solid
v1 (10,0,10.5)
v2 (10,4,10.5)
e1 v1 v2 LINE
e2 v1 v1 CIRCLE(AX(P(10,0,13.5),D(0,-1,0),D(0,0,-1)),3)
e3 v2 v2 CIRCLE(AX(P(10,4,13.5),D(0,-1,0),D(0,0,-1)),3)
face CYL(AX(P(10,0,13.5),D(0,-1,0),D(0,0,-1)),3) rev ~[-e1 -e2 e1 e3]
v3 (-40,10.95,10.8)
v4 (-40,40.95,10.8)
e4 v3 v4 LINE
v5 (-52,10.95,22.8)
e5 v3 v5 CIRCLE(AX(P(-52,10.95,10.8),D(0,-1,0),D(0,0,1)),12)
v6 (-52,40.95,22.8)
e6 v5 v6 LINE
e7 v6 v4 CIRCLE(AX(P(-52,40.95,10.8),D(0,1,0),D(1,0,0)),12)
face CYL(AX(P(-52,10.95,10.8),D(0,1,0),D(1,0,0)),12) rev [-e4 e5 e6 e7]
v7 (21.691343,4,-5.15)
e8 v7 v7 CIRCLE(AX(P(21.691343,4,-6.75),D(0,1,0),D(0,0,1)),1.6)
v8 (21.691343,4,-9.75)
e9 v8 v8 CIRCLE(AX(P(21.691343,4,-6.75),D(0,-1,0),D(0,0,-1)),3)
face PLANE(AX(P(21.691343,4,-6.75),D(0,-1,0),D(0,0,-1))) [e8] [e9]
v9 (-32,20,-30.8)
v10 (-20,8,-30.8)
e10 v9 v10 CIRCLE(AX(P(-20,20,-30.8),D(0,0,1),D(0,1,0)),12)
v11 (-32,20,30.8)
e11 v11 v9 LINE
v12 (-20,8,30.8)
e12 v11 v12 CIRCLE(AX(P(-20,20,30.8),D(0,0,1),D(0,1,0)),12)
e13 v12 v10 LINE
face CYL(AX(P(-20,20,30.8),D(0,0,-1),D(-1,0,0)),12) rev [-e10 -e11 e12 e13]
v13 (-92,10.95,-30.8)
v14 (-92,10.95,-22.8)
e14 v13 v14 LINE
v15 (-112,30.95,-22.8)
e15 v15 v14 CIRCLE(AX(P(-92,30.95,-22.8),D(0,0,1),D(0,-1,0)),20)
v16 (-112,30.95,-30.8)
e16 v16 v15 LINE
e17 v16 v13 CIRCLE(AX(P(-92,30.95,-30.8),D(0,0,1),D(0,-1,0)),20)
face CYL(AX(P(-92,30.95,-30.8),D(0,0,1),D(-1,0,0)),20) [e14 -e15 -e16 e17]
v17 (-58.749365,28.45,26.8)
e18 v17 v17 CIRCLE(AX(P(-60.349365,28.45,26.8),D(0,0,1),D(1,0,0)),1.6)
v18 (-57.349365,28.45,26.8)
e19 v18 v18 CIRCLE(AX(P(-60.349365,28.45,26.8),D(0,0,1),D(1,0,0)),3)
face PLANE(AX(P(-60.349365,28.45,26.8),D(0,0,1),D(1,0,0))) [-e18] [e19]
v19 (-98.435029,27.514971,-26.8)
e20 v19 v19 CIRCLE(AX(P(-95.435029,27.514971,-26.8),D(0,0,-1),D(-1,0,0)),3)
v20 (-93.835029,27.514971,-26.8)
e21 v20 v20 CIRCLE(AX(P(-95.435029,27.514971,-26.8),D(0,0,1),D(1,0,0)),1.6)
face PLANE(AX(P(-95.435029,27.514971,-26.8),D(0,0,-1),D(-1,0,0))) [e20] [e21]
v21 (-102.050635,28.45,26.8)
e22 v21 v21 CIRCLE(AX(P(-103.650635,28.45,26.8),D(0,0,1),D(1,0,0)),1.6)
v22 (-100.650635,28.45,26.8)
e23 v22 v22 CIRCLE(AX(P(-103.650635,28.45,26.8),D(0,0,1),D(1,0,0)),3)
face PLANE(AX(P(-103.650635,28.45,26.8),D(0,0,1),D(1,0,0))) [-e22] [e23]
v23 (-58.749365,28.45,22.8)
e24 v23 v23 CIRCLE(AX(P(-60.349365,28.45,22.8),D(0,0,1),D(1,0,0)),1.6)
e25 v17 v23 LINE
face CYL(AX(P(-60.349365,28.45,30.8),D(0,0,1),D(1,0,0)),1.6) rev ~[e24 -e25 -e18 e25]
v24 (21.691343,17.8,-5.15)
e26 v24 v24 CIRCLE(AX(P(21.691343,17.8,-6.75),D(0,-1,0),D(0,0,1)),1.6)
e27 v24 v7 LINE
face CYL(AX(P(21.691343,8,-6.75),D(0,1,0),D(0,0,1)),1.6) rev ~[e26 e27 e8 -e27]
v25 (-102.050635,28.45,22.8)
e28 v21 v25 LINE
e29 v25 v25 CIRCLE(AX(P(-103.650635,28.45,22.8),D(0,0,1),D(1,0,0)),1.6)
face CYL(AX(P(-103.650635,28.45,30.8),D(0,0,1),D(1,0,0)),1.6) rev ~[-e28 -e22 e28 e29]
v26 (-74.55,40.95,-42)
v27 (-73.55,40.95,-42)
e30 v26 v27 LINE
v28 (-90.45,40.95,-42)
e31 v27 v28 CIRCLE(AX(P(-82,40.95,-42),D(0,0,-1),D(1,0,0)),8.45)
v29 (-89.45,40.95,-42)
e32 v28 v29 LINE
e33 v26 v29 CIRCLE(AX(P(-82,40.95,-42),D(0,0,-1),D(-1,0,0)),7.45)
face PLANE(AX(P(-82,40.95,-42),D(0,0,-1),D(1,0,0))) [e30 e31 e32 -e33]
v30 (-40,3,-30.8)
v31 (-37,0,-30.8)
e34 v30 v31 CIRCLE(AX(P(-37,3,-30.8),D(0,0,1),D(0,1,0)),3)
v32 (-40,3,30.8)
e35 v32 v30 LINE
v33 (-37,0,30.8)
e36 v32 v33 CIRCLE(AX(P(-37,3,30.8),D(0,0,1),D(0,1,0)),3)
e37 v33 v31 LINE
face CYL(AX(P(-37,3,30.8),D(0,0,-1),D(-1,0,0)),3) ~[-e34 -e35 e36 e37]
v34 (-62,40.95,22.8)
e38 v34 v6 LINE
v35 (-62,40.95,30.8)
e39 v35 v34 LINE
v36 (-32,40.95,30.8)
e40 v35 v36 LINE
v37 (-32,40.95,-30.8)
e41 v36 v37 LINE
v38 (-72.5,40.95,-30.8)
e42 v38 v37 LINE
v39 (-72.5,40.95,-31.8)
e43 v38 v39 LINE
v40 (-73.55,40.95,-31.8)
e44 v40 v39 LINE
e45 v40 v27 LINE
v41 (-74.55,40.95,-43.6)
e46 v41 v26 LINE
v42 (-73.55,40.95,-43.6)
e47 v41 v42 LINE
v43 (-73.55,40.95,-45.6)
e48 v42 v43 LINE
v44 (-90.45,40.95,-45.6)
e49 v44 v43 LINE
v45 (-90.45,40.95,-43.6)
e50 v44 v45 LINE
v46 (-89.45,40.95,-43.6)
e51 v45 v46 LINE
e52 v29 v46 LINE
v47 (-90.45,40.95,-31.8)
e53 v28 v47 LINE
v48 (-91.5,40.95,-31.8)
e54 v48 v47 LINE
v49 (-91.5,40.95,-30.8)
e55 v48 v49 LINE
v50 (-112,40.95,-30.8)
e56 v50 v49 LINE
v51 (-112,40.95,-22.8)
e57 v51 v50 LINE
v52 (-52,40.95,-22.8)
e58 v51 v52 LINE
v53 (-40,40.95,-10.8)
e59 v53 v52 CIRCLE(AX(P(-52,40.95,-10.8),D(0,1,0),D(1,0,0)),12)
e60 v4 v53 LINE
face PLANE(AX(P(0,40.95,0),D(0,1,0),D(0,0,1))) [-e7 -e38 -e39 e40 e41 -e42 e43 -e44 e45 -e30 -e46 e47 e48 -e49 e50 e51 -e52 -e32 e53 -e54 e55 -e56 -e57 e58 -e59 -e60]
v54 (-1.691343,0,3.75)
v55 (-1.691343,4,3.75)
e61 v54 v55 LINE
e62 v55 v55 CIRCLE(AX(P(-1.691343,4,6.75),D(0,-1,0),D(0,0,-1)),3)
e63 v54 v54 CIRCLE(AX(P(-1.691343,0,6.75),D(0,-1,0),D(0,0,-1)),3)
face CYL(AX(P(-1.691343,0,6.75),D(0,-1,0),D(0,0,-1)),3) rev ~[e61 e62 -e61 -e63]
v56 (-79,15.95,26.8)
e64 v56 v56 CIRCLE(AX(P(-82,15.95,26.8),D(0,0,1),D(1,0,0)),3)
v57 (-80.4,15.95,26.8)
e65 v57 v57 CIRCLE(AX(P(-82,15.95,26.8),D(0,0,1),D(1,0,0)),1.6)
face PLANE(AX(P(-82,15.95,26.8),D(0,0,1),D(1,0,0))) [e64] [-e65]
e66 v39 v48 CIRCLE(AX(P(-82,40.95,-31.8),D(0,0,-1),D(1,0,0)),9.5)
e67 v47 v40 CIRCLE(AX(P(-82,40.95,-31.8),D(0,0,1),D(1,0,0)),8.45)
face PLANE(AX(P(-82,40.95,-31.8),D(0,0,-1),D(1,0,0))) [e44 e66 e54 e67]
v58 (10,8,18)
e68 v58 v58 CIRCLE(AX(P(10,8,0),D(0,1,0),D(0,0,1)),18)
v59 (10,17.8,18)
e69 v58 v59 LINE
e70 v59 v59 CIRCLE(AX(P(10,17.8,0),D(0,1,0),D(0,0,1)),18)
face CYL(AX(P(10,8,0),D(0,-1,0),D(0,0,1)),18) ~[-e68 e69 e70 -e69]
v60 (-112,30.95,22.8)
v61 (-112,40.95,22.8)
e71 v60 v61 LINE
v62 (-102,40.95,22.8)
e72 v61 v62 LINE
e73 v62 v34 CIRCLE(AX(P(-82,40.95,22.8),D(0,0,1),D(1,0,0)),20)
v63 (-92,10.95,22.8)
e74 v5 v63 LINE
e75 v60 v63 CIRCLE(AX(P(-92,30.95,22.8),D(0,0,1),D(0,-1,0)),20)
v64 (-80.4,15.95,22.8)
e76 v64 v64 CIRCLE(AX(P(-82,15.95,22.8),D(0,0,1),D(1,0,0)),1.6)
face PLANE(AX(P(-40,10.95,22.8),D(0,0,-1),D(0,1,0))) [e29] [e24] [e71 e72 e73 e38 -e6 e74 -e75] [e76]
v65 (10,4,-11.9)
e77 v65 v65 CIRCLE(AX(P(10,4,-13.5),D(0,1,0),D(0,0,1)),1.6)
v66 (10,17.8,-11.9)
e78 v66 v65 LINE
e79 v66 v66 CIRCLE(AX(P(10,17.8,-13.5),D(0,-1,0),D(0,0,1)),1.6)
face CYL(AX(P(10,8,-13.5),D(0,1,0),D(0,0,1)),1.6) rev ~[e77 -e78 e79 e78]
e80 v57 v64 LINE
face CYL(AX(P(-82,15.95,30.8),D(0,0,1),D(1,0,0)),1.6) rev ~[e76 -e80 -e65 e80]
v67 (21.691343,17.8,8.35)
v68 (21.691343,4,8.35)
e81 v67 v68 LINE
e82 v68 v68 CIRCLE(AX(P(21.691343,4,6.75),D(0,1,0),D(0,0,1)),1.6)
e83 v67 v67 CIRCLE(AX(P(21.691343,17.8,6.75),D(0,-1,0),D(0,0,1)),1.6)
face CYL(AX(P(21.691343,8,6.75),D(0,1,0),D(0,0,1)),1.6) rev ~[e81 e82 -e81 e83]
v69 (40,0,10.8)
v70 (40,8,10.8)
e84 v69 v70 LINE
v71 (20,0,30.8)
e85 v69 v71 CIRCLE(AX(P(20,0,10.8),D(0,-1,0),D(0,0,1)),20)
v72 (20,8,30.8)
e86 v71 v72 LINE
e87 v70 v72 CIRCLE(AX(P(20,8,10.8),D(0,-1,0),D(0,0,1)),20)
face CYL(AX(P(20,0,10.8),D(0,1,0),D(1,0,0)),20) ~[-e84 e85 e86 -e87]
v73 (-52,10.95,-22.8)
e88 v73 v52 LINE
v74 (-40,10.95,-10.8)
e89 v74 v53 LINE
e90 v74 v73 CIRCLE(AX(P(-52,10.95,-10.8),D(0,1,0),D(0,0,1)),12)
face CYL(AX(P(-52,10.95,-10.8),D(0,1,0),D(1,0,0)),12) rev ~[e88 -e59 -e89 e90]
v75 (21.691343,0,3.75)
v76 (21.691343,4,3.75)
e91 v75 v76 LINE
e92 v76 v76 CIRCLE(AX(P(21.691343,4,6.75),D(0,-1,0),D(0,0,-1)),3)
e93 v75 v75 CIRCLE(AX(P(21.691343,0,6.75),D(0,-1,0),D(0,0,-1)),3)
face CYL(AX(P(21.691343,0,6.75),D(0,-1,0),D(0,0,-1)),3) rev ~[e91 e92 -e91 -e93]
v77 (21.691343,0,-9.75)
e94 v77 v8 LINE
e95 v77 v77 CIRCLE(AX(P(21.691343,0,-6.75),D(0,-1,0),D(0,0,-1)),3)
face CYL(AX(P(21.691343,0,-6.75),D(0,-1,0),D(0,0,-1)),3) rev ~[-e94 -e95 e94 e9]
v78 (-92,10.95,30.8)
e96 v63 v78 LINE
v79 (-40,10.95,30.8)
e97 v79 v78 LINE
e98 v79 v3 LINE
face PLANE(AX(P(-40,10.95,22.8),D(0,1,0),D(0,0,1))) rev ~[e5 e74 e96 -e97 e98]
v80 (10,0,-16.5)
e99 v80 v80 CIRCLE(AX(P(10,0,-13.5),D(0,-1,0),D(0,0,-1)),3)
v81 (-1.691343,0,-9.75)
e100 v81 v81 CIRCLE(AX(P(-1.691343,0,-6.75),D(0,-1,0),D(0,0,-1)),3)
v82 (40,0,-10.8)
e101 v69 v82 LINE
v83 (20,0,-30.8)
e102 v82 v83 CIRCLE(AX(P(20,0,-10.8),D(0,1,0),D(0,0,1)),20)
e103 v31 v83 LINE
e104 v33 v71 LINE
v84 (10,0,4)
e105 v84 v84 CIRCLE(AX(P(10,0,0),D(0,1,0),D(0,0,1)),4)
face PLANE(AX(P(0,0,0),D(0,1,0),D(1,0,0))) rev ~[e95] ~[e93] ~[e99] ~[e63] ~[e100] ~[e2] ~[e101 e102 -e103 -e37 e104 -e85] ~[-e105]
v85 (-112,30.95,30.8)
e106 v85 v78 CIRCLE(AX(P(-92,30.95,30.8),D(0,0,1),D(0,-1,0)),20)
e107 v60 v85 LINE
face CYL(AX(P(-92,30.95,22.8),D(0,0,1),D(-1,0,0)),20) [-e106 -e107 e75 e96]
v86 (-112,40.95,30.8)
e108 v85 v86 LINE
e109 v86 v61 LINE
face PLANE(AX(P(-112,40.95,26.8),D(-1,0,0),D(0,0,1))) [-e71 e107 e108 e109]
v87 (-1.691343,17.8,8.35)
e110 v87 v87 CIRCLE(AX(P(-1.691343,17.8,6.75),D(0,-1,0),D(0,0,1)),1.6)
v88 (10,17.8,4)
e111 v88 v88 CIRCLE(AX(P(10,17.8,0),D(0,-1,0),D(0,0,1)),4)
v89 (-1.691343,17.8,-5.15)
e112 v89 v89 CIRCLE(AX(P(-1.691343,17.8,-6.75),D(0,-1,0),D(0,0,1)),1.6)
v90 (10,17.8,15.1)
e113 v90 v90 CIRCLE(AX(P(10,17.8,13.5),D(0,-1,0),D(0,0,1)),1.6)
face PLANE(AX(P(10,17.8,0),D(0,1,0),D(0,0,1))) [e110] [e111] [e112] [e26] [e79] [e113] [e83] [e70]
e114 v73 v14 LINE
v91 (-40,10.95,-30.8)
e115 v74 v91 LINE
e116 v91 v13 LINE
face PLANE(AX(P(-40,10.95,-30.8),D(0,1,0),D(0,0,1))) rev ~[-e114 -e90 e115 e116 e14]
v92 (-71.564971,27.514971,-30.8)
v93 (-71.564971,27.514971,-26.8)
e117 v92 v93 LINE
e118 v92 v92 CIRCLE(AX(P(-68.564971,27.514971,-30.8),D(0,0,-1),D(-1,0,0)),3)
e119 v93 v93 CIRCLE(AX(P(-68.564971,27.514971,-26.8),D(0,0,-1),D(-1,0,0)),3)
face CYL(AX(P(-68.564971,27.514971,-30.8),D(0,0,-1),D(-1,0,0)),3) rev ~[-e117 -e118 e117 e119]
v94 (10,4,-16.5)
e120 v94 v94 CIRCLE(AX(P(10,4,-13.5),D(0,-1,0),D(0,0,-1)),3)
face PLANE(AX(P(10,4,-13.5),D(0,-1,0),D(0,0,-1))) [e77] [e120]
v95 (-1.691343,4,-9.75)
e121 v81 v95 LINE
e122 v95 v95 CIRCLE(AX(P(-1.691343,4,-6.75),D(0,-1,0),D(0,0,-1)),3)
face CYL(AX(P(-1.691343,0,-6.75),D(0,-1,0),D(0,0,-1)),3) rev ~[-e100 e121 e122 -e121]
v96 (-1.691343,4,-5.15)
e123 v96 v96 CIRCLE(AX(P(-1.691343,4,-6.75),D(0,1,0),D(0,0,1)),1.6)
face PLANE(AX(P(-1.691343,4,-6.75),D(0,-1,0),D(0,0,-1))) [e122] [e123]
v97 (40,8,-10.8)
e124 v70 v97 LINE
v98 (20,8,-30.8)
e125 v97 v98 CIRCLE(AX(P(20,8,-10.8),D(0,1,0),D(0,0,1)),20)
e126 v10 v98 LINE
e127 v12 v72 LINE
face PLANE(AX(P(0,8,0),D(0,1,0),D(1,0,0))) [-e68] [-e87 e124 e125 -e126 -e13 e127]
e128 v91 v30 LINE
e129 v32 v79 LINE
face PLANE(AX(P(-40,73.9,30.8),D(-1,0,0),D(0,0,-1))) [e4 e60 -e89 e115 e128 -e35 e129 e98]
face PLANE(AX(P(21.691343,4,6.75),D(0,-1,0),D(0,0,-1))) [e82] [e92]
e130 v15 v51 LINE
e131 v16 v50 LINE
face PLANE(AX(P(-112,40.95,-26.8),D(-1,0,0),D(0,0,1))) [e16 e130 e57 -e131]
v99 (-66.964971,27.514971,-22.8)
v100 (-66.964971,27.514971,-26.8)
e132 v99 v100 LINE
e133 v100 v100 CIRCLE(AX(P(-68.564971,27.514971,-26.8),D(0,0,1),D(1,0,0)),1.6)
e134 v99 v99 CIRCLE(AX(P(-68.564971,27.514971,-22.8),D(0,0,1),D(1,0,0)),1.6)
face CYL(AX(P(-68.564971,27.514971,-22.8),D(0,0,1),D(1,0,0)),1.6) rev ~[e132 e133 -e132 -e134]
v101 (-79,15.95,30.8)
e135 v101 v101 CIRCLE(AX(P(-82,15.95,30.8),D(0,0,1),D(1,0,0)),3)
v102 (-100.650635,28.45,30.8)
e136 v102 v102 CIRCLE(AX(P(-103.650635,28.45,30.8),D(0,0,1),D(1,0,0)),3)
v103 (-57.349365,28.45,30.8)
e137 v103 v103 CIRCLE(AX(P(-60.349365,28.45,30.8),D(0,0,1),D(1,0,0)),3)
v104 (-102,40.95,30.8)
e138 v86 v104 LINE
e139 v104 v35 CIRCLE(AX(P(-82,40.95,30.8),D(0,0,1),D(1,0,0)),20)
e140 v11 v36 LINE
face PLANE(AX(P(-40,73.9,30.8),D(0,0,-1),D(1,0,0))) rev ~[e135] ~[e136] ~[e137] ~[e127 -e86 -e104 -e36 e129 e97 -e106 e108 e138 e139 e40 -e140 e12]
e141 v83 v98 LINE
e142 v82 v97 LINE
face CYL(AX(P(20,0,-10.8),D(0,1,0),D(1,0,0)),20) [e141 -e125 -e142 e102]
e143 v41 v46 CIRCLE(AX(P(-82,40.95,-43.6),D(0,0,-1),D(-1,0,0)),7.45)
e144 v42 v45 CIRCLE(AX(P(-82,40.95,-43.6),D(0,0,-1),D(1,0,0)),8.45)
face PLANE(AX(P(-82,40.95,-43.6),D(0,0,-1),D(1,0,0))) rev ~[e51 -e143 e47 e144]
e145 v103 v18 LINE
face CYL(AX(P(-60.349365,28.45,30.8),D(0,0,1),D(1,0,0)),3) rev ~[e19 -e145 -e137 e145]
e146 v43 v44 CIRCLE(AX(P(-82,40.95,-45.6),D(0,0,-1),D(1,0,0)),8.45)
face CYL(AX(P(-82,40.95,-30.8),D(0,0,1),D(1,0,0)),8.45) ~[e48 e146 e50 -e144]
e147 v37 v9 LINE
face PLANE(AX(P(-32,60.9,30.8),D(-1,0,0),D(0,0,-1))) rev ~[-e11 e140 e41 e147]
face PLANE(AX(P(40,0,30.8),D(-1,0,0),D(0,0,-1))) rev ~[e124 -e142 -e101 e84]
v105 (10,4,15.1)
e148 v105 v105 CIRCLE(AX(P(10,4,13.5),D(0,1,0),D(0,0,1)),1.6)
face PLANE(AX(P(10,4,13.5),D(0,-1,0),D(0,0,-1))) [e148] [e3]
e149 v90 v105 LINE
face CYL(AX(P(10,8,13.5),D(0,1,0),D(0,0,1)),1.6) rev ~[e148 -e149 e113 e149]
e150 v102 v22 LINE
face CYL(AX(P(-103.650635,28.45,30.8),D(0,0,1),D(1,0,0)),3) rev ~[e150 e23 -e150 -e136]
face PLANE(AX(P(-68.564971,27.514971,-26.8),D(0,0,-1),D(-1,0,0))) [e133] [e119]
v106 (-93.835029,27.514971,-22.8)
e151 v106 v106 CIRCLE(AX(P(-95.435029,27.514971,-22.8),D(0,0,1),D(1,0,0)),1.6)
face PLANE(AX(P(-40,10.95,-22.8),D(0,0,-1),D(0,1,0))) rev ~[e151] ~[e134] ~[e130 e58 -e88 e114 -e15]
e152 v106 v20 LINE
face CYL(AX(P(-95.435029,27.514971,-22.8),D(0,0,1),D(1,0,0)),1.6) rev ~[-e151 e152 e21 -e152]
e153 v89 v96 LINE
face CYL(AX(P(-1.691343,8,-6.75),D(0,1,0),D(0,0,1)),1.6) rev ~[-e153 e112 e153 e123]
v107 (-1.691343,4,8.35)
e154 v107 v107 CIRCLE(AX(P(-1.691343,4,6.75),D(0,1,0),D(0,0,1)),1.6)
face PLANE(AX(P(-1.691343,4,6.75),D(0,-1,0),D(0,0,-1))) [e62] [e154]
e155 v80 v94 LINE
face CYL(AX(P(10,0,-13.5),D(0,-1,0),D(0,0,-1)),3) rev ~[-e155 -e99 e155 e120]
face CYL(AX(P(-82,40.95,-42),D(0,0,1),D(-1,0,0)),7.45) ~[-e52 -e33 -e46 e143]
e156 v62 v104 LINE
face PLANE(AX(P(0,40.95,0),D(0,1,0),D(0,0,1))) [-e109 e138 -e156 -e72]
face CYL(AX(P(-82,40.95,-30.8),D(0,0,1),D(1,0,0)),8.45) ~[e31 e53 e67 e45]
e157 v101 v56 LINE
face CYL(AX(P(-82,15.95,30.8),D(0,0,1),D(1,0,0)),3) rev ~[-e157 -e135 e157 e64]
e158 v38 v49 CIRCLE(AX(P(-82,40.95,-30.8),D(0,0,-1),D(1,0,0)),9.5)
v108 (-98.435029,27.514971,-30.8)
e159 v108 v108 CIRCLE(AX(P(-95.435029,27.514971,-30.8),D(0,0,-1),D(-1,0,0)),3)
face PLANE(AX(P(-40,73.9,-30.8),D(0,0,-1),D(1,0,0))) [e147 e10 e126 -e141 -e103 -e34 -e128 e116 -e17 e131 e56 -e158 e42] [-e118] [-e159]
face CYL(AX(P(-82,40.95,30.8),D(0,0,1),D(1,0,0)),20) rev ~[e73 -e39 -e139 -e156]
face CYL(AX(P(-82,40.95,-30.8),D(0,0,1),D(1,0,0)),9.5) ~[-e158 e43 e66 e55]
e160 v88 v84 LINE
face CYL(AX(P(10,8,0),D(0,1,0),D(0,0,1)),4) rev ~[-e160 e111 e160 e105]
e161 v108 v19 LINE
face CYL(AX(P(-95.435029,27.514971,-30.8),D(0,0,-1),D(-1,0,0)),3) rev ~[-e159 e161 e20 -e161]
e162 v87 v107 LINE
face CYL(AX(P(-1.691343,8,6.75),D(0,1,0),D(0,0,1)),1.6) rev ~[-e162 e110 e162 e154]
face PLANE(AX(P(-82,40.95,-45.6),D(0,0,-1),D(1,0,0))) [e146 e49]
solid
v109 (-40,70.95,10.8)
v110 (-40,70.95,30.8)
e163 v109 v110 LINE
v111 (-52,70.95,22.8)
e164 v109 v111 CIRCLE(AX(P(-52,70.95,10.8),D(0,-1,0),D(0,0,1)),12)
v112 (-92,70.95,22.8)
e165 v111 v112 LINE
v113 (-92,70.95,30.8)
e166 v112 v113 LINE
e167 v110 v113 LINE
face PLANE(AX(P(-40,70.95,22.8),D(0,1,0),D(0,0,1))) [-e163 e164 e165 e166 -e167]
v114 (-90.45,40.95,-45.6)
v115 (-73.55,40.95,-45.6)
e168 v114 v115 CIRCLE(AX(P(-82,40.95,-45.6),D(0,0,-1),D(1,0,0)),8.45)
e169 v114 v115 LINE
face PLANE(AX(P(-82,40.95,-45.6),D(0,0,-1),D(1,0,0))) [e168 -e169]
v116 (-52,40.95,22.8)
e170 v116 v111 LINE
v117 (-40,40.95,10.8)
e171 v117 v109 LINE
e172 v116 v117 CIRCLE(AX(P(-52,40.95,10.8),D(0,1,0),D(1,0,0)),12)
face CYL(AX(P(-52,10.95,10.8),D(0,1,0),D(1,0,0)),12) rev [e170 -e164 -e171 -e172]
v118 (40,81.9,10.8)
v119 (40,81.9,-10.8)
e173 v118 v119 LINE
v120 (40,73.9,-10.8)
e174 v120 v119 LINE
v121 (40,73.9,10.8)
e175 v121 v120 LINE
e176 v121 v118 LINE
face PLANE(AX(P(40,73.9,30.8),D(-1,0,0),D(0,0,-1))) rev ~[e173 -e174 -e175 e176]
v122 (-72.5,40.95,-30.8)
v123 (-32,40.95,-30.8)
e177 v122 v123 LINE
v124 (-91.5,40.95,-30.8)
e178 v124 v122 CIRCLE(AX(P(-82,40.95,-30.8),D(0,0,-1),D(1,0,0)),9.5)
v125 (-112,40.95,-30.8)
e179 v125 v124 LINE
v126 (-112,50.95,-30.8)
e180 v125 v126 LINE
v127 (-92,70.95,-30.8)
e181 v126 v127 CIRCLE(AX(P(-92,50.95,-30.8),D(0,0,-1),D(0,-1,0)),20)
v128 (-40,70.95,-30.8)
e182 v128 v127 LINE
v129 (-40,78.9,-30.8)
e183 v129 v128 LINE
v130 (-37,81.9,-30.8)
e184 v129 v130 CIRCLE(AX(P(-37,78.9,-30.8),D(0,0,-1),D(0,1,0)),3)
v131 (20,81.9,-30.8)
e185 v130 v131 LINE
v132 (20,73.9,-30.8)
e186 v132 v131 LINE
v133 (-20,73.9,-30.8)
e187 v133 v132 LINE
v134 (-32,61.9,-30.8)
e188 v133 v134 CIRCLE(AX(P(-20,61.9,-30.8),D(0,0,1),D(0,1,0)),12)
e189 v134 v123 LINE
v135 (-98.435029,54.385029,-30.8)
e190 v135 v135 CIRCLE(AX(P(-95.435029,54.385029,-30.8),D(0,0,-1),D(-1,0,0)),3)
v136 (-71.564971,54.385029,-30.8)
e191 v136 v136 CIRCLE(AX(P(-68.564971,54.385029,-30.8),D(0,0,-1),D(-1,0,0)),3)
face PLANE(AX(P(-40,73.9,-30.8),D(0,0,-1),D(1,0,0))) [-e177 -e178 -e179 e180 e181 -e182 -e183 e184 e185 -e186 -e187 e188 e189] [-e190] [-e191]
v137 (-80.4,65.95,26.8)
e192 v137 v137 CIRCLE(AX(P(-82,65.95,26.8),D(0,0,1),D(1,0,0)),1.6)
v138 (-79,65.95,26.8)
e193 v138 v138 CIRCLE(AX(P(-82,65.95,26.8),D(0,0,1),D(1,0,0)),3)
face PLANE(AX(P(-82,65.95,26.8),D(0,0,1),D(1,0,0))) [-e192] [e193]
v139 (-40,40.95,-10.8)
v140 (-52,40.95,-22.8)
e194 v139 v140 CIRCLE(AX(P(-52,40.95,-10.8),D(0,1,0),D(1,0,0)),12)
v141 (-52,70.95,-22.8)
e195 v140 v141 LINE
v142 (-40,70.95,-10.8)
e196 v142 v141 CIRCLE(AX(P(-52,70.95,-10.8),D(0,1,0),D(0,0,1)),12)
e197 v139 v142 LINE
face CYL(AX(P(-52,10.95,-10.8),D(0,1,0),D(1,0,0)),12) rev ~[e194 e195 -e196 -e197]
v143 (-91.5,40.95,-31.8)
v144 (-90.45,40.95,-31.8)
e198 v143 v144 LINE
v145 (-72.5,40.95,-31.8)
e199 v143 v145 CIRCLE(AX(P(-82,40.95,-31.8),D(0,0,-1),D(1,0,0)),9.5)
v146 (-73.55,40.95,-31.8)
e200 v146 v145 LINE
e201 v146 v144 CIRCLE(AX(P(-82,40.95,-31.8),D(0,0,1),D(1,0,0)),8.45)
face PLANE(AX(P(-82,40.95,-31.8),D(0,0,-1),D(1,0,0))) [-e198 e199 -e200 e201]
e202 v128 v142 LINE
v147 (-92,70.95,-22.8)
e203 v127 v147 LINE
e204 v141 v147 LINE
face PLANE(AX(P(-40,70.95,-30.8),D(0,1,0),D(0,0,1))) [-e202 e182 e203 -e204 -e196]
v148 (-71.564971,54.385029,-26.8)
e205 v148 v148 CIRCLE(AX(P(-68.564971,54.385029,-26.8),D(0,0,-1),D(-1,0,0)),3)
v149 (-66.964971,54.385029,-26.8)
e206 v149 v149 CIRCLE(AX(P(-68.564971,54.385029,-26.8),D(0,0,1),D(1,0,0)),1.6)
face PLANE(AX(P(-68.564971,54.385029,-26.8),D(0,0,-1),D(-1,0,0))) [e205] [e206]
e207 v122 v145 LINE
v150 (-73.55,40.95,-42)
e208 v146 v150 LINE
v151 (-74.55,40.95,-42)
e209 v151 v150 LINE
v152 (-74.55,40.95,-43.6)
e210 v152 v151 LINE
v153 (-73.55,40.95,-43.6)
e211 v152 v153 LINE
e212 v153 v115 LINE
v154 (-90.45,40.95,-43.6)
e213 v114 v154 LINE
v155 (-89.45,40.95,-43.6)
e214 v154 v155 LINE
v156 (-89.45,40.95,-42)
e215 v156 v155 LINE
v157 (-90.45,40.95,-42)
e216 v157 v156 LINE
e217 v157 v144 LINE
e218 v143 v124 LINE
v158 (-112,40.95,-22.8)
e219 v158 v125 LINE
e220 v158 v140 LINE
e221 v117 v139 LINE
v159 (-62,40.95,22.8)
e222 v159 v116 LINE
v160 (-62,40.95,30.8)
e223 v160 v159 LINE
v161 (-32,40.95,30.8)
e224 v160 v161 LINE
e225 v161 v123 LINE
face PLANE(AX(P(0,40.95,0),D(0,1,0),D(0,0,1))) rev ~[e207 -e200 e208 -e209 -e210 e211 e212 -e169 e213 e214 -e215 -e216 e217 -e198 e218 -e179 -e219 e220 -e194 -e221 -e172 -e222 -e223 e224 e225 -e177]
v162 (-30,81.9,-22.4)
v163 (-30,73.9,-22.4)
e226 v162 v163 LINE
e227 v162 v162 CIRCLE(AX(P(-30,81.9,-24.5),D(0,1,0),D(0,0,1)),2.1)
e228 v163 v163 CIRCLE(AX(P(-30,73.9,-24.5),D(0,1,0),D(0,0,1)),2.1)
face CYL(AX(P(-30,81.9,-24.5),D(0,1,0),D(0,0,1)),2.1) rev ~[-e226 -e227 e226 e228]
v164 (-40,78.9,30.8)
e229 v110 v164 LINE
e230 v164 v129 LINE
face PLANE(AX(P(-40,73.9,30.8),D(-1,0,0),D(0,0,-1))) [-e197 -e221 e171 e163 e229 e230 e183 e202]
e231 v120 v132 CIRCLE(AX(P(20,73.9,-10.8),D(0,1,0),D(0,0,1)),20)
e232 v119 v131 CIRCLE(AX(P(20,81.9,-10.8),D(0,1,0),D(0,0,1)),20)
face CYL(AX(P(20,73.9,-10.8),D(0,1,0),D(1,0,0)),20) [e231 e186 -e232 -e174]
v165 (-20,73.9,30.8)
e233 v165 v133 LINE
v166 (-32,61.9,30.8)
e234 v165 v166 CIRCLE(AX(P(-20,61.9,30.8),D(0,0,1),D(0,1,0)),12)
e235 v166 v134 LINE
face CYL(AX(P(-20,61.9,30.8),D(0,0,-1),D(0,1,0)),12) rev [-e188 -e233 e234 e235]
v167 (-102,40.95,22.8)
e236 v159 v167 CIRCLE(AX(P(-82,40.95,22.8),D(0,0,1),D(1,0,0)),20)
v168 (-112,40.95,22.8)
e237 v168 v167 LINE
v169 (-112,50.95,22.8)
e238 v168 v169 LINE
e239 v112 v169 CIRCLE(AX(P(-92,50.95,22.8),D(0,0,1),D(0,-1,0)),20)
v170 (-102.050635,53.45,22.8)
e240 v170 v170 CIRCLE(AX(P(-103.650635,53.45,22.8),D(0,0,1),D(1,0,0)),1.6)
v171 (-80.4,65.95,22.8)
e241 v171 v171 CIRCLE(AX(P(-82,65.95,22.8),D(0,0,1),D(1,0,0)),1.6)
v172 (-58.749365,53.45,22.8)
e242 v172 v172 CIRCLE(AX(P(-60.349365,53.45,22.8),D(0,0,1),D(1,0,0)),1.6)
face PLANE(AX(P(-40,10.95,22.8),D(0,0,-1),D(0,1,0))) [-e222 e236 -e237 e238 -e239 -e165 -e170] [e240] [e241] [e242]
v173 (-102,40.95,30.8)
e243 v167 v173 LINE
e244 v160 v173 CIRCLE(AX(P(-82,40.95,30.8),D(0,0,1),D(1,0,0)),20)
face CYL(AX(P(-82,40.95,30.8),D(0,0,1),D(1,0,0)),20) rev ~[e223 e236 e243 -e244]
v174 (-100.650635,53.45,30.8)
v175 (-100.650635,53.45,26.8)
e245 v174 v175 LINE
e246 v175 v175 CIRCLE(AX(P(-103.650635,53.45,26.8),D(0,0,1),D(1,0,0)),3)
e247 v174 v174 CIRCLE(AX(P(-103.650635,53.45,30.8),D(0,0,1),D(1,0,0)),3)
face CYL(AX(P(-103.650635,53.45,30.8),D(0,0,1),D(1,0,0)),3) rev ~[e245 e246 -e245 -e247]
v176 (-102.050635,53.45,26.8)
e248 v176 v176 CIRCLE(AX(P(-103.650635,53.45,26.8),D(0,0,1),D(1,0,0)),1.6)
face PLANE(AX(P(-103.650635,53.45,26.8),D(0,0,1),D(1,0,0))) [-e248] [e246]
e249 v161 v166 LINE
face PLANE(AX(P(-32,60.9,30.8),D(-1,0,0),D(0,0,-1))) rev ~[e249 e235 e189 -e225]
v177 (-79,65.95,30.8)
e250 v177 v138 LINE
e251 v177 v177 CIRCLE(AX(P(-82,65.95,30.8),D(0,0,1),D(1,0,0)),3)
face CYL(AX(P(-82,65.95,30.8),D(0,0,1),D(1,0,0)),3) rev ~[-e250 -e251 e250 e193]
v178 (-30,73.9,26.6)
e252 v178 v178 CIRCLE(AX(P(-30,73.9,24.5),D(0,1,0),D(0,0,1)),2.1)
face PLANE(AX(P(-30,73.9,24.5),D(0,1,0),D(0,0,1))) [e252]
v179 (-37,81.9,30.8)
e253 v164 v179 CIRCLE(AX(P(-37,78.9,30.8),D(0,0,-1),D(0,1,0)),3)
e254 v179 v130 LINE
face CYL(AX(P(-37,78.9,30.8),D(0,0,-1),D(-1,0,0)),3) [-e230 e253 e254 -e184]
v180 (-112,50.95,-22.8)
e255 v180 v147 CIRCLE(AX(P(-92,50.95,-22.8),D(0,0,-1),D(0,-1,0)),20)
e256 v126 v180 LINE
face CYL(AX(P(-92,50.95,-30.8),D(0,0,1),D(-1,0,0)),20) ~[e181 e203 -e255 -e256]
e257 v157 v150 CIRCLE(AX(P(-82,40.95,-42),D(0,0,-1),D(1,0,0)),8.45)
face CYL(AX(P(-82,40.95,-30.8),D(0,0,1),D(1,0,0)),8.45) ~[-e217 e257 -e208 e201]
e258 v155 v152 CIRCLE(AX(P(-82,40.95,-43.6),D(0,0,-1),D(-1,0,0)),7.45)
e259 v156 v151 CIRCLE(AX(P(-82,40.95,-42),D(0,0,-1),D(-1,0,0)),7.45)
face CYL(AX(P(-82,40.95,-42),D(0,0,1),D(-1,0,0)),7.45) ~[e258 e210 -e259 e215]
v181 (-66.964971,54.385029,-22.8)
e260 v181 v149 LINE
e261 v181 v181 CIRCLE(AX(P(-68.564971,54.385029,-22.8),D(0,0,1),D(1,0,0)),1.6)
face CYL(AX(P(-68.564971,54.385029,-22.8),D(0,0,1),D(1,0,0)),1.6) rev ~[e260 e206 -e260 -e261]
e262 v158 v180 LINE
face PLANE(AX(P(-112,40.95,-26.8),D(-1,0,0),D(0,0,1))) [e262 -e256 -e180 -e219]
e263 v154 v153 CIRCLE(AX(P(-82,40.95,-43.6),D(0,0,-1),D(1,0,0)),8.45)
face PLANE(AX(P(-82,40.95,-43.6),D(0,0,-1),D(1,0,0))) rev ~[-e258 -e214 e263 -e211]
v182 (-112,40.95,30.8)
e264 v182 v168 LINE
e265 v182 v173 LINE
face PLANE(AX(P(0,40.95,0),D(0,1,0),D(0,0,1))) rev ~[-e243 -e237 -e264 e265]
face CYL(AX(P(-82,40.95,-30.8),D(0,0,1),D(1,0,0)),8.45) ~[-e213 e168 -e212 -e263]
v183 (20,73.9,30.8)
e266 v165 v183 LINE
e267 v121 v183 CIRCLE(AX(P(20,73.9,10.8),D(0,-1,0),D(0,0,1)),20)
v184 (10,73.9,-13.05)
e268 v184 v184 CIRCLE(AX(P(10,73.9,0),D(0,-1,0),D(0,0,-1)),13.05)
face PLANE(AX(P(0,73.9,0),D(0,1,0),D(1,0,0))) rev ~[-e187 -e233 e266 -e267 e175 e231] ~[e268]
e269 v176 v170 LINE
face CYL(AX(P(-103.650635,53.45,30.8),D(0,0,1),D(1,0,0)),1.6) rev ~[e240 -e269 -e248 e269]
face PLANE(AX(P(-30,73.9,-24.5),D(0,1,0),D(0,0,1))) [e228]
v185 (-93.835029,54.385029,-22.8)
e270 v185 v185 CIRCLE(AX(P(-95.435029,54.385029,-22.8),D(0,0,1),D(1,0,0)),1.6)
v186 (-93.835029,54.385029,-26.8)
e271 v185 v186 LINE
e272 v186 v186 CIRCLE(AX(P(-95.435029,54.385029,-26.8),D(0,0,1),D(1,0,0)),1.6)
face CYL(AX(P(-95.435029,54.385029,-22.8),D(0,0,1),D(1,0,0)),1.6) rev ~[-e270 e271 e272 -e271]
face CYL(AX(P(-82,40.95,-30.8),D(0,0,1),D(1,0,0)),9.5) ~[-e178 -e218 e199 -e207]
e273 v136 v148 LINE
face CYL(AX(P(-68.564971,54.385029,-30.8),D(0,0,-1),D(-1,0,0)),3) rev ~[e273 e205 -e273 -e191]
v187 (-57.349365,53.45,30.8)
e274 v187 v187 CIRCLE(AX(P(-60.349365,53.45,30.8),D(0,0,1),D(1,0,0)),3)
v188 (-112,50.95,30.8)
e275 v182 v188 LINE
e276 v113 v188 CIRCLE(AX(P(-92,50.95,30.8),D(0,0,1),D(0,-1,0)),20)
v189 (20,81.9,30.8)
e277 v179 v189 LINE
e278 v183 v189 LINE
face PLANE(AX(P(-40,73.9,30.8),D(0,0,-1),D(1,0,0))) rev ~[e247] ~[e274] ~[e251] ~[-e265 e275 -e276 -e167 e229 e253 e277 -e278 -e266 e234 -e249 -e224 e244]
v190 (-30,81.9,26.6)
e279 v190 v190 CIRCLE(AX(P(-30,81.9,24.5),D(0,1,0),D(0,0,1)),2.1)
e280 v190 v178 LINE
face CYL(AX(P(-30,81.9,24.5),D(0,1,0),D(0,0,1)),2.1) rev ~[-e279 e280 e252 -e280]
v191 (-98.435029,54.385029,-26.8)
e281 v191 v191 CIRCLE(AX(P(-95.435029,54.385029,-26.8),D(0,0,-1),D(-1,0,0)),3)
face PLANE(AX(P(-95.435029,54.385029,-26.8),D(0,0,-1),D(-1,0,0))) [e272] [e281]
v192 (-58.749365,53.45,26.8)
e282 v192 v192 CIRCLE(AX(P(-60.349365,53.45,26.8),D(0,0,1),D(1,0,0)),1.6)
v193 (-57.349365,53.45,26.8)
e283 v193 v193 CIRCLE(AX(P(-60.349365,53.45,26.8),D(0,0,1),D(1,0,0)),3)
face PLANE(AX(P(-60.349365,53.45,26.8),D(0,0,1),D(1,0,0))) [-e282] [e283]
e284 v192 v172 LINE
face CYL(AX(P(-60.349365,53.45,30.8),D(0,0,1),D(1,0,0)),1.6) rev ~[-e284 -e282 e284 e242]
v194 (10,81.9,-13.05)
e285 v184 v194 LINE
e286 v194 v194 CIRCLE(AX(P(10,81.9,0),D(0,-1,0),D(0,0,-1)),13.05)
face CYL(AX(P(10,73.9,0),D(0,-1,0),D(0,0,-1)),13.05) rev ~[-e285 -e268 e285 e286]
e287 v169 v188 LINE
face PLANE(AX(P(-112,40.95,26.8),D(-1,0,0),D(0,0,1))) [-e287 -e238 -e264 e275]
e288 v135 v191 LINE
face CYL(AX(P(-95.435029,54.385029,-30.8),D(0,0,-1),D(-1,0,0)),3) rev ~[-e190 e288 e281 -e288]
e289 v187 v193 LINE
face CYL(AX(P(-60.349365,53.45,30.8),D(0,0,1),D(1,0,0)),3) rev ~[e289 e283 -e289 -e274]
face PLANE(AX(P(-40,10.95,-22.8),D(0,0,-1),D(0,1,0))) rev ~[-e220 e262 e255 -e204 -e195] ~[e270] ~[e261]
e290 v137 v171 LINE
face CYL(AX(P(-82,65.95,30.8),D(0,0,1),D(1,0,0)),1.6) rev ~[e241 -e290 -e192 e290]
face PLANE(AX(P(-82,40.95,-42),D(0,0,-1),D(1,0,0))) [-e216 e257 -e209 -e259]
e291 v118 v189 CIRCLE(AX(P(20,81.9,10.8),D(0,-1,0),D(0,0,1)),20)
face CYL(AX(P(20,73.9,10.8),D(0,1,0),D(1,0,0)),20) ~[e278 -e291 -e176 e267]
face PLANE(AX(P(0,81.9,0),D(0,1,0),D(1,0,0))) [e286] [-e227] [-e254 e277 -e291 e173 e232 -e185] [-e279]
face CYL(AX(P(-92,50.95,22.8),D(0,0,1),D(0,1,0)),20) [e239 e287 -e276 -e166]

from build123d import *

# Parameters (mm, degrees)
SKETCH_1_W                      = 80
SKETCH_1_H                      = 61.6
EXTRUDE_1_DEPTH                 = 8
SKETCH_2_W                      = 8
SKETCH_2_H                      = 61.6
EXTRUDE_2_DEPTH                 = 52.9
SKETCH_10_W                     = 8
SKETCH_10_H                     = 61.6
EXTRUDE_7_DEPTH                 = 13
SKETCH_11_W                     = 80
SKETCH_11_H                     = 61.6
EXTRUDE_8_DEPTH                 = 8
SKETCH_3_W                      = 8
SKETCH_3_H                      = 60
EXTRUDE_3_DEPTH                 = 72
SKETCH_6_R                      = 18
EXTRUDE_4_DEPTH                 = 9.8
SKETCH_4_R                      = 1.6
SKETCH_4_R_2                    = 4
CUT_EXTRUDE_1_DEPTH             = 138.672982099
CUT_EXTRUDE_1_DIRECTION_2_REACH = 139.673
SKETCH_5_R                      = 1.6
CUT_EXTRUDE_2_DEPTH             = 149.74330237
CUT_EXTRUDE_3_REACH             = 139.673
SKETCH_12_R                     = 13.05
CUT_EXTRUDE_5_REACH             = 153.81
SKETCH_14_R                     = 1.6
SKETCH_14_R_2                   = 20
SKETCH_16_R                     = 8.45
EXTRUDE_9_DEPTH                 = 14.8
FILLET_1_R                      = 12
FILLET_2_R                      = 20
FILLET_3_R                      = 3
CUT_EXTRUDE_START               = -1.6
SKETCH_17_R                     = 8.45
SKETCH_17_R_2                   = 7.45
CUT_EXTRUDE_6_DEPTH             = 1.6
SKETCH_18_R                     = 2.1
CUT_EXTRUDE_7_DEPTH             = 8
SKETCH_19_R                     = 3
CUT_EXTRUDE_8_DEPTH             = 4
SKETCH_20_R                     = 3
CUT_EXTRUDE_9_DEPTH             = 4
SKETCH_21_R                     = 3
CUT_EXTRUDE_10_DEPTH            = 4
SKETCH_22_R                     = 9.5
EXTRUDE_10_DEPTH                = 1


with BuildPart() as part:
    # 草图1 → 凸台-拉伸1 (new body)
    with BuildSketch(Plane(origin=(0, 0, 0), x_dir=(1, 0, 0), z_dir=(0, 1, 0))):
        Rectangle(SKETCH_1_W, SKETCH_1_H)
    extrude(amount=EXTRUDE_1_DEPTH)

    # 草图2 → 凸台-拉伸2 (add)
    with BuildSketch(Plane(origin=(0, 8, 0), x_dir=(1, 0, 0), z_dir=(0, 1, 0))):
        with Locations((-36, 0)):
            Rectangle(SKETCH_2_W, SKETCH_2_H)
    extrude(amount=EXTRUDE_2_DEPTH)

    # 草图10 → 凸台-拉伸7 (add)
    with BuildSketch(Plane(origin=(0, 60.9, 0), x_dir=(1, 0, 0), z_dir=(0, 1, 0))):
        with Locations((-36, 0)):
            Rectangle(SKETCH_10_W, SKETCH_10_H)
    extrude(amount=EXTRUDE_7_DEPTH)

    # 草图11 → 凸台-拉伸8 (add)
    with BuildSketch(Plane(origin=(0, 73.9, 0), x_dir=(1, 0, 0), z_dir=(0, 1, 0))):
        Rectangle(SKETCH_11_W, SKETCH_11_H)
    extrude(amount=EXTRUDE_8_DEPTH)

    # 草图3 → 凸台-拉伸3 (add)
    with BuildSketch(Plane.ZY.offset(40)):
        with Locations((-26.8, 40.95)):
            Rectangle(SKETCH_3_W, SKETCH_3_H)
        with Locations((26.8, 40.95)):
            Rectangle(SKETCH_3_W, SKETCH_3_H)
    extrude(amount=EXTRUDE_3_DEPTH)

    # 草图6 → 凸台-拉伸4 (add)
    with BuildSketch(Plane(origin=(0, 8, 0), x_dir=(1, 0, 0), z_dir=(0, 1, 0))):
        with Locations(Location((10, 0, 0), (0, 0, 270))):
            Circle(SKETCH_6_R)
    extrude(amount=EXTRUDE_4_DEPTH)

    # 草图4 → 切除-拉伸1 (cut)
    with BuildSketch(Plane(origin=(0, 8, 0), x_dir=(1, 0, 0), z_dir=(0, 1, 0))):
        with Locations(Location((10, 13.5, 0), (0, 0, 270))):
            Circle(SKETCH_4_R)
        with Locations(Location((21.691342951, 6.75, 0), (0, 0, 270))):
            Circle(SKETCH_4_R)
        with Locations(Location((21.691342951, -6.75, 0), (0, 0, 270))):
            Circle(SKETCH_4_R)
        with Locations(Location((10, -13.5, 0), (0, 0, 270))):
            Circle(SKETCH_4_R)
        with Locations(Location((-1.691342951, -6.75, 0), (0, 0, 270))):
            Circle(SKETCH_4_R)
        with Locations(Location((-1.691342951, 6.75, 0), (0, 0, 270))):
            Circle(SKETCH_4_R)
        with Locations(Location((10, 0, 0), (0, 0, 270))):
            Circle(SKETCH_4_R_2)
    extrude(amount=-CUT_EXTRUDE_1_DEPTH, mode=Mode.SUBTRACT)

    # 草图4 → 切除-拉伸1 direction 2 (cut, up to next)
    with BuildSketch(Plane(origin=(0, 8, 0), x_dir=(1, 0, 0), z_dir=(0, 1, 0)), mode=Mode.PRIVATE) as cut_extrude_1_direction_2_sk1:
        with Locations(Location((10, 13.5, 0), (0, 0, 270))):
            Circle(SKETCH_4_R)
    cut_extrude_1_direction_2_tool1 = extrude(cut_extrude_1_direction_2_sk1.sketch, amount=CUT_EXTRUDE_1_DIRECTION_2_REACH, mode=Mode.PRIVATE) & part.part
    # 草图4 → 切除-拉伸1 direction 2 (cut, up to next)
    with BuildSketch(Plane(origin=(0, 8, 0), x_dir=(1, 0, 0), z_dir=(0, 1, 0)), mode=Mode.PRIVATE) as cut_extrude_1_direction_2_sk2:
        with Locations(Location((21.691342951, 6.75, 0), (0, 0, 270))):
            Circle(SKETCH_4_R)
    cut_extrude_1_direction_2_tool2 = extrude(cut_extrude_1_direction_2_sk2.sketch, amount=CUT_EXTRUDE_1_DIRECTION_2_REACH, mode=Mode.PRIVATE) & part.part
    # 草图4 → 切除-拉伸1 direction 2 (cut, up to next)
    with BuildSketch(Plane(origin=(0, 8, 0), x_dir=(1, 0, 0), z_dir=(0, 1, 0)), mode=Mode.PRIVATE) as cut_extrude_1_direction_2_sk3:
        with Locations(Location((21.691342951, -6.75, 0), (0, 0, 270))):
            Circle(SKETCH_4_R)
    cut_extrude_1_direction_2_tool3 = extrude(cut_extrude_1_direction_2_sk3.sketch, amount=CUT_EXTRUDE_1_DIRECTION_2_REACH, mode=Mode.PRIVATE) & part.part
    # 草图4 → 切除-拉伸1 direction 2 (cut, up to next)
    with BuildSketch(Plane(origin=(0, 8, 0), x_dir=(1, 0, 0), z_dir=(0, 1, 0)), mode=Mode.PRIVATE) as cut_extrude_1_direction_2_sk4:
        with Locations(Location((10, -13.5, 0), (0, 0, 270))):
            Circle(SKETCH_4_R)
    cut_extrude_1_direction_2_tool4 = extrude(cut_extrude_1_direction_2_sk4.sketch, amount=CUT_EXTRUDE_1_DIRECTION_2_REACH, mode=Mode.PRIVATE) & part.part
    # 草图4 → 切除-拉伸1 direction 2 (cut, up to next)
    with BuildSketch(Plane(origin=(0, 8, 0), x_dir=(1, 0, 0), z_dir=(0, 1, 0)), mode=Mode.PRIVATE) as cut_extrude_1_direction_2_sk5:
        with Locations(Location((-1.691342951, -6.75, 0), (0, 0, 270))):
            Circle(SKETCH_4_R)
    cut_extrude_1_direction_2_tool5 = extrude(cut_extrude_1_direction_2_sk5.sketch, amount=CUT_EXTRUDE_1_DIRECTION_2_REACH, mode=Mode.PRIVATE) & part.part
    # 草图4 → 切除-拉伸1 direction 2 (cut, up to next)
    with BuildSketch(Plane(origin=(0, 8, 0), x_dir=(1, 0, 0), z_dir=(0, 1, 0)), mode=Mode.PRIVATE) as cut_extrude_1_direction_2_sk6:
        with Locations(Location((-1.691342951, 6.75, 0), (0, 0, 270))):
            Circle(SKETCH_4_R)
    cut_extrude_1_direction_2_tool6 = extrude(cut_extrude_1_direction_2_sk6.sketch, amount=CUT_EXTRUDE_1_DIRECTION_2_REACH, mode=Mode.PRIVATE) & part.part
    # 草图4 → 切除-拉伸1 direction 2 (cut, up to next)
    with BuildSketch(Plane(origin=(0, 8, 0), x_dir=(1, 0, 0), z_dir=(0, 1, 0)), mode=Mode.PRIVATE) as cut_extrude_1_direction_2_sk7:
        with Locations(Location((10, 0, 0), (0, 0, 270))):
            Circle(SKETCH_4_R_2)
    cut_extrude_1_direction_2_tool7 = extrude(cut_extrude_1_direction_2_sk7.sketch, amount=CUT_EXTRUDE_1_DIRECTION_2_REACH, mode=Mode.PRIVATE) & part.part
    add(cut_extrude_1_direction_2_tool1.solids().sort_by_distance((10, 8, -13.5))[0], mode=Mode.SUBTRACT)
    add(cut_extrude_1_direction_2_tool2.solids().sort_by_distance((21.691343, 8, -6.75))[0], mode=Mode.SUBTRACT)
    add(cut_extrude_1_direction_2_tool3.solids().sort_by_distance((21.691343, 8, 6.75))[0], mode=Mode.SUBTRACT)
    add(cut_extrude_1_direction_2_tool4.solids().sort_by_distance((10, 8, 13.5))[0], mode=Mode.SUBTRACT)
    add(cut_extrude_1_direction_2_tool5.solids().sort_by_distance((-1.691343, 8, 6.75))[0], mode=Mode.SUBTRACT)
    add(cut_extrude_1_direction_2_tool6.solids().sort_by_distance((-1.691343, 8, -6.75))[0], mode=Mode.SUBTRACT)
    add(cut_extrude_1_direction_2_tool7.solids().sort_by_distance((10, 8, 0))[0], mode=Mode.SUBTRACT)

    # 草图5 → 切除-拉伸2 (cut, through all)
    with BuildSketch(Plane.XY.offset(-22.8)):
        with Locations((-68.564971157, 54.385028843)):
            Circle(SKETCH_5_R)
        with Locations((-68.564971157, 27.514971157)):
            Circle(SKETCH_5_R)
        with Locations((-95.435028843, 27.514971157)):
            Circle(SKETCH_5_R)
        with Locations((-95.435028843, 54.385028843)):
            Circle(SKETCH_5_R)
    extrude(amount=-CUT_EXTRUDE_2_DEPTH, mode=Mode.SUBTRACT)

    # 草图12 → 切除-拉伸3 (cut, up to next)
    with BuildSketch(Plane(origin=(0, 73.9, 0), x_dir=(-1, 0, 0), z_dir=(0, -1, 0)), mode=Mode.PRIVATE) as cut_extrude_3_sk1:
        with Locations(Location((-10, 0, 0), (0, 0, 90))):
            Circle(SKETCH_12_R)
    cut_extrude_3_tool1 = extrude(cut_extrude_3_sk1.sketch, amount=-CUT_EXTRUDE_3_REACH, mode=Mode.PRIVATE) & part.part
    add(cut_extrude_3_tool1.solids().sort_by_distance((10, 73.9, 0))[0], mode=Mode.SUBTRACT)

    # 草图14 → 切除-拉伸5 (cut, up to next)
    with BuildSketch(Plane.XY.offset(30.8), mode=Mode.PRIVATE) as cut_extrude_5_sk1:
        with Locations((-82, 65.95)):
            Circle(SKETCH_14_R)
    cut_extrude_5_tool1 = extrude(cut_extrude_5_sk1.sketch, amount=-CUT_EXTRUDE_5_REACH, mode=Mode.PRIVATE) & part.part
    # 草图14 → 切除-拉伸5 (cut, up to next)
    with BuildSketch(Plane.XY.offset(30.8), mode=Mode.PRIVATE) as cut_extrude_5_sk2:
        with Locations((-60.349364905, 53.45)):
            Circle(SKETCH_14_R)
    cut_extrude_5_tool2 = extrude(cut_extrude_5_sk2.sketch, amount=-CUT_EXTRUDE_5_REACH, mode=Mode.PRIVATE) & part.part
    # 草图14 → 切除-拉伸5 (cut, up to next)
    with BuildSketch(Plane.XY.offset(30.8), mode=Mode.PRIVATE) as cut_extrude_5_sk3:
        with Locations((-60.349364905, 28.45)):
            Circle(SKETCH_14_R)
    cut_extrude_5_tool3 = extrude(cut_extrude_5_sk3.sketch, amount=-CUT_EXTRUDE_5_REACH, mode=Mode.PRIVATE) & part.part
    # 草图14 → 切除-拉伸5 (cut, up to next)
    with BuildSketch(Plane.XY.offset(30.8), mode=Mode.PRIVATE) as cut_extrude_5_sk4:
        with Locations((-82, 15.95)):
            Circle(SKETCH_14_R)
    cut_extrude_5_tool4 = extrude(cut_extrude_5_sk4.sketch, amount=-CUT_EXTRUDE_5_REACH, mode=Mode.PRIVATE) & part.part
    # 草图14 → 切除-拉伸5 (cut, up to next)
    with BuildSketch(Plane.XY.offset(30.8), mode=Mode.PRIVATE) as cut_extrude_5_sk5:
        with Locations((-103.650635095, 28.45)):
            Circle(SKETCH_14_R)
    cut_extrude_5_tool5 = extrude(cut_extrude_5_sk5.sketch, amount=-CUT_EXTRUDE_5_REACH, mode=Mode.PRIVATE) & part.part
    # 草图14 → 切除-拉伸5 (cut, up to next)
    with BuildSketch(Plane.XY.offset(30.8), mode=Mode.PRIVATE) as cut_extrude_5_sk6:
        with Locations((-103.650635095, 53.45)):
            Circle(SKETCH_14_R)
    cut_extrude_5_tool6 = extrude(cut_extrude_5_sk6.sketch, amount=-CUT_EXTRUDE_5_REACH, mode=Mode.PRIVATE) & part.part
    # 草图14 → 切除-拉伸5 (cut, up to next)
    with BuildSketch(Plane.XY.offset(30.8), mode=Mode.PRIVATE) as cut_extrude_5_sk7:
        with Locations((-82, 40.95)):
            Circle(SKETCH_14_R_2)
    cut_extrude_5_tool7 = extrude(cut_extrude_5_sk7.sketch, amount=-CUT_EXTRUDE_5_REACH, mode=Mode.PRIVATE) & part.part
    add(cut_extrude_5_tool1.solids().sort_by_distance((-82, 65.95, 30.8))[0], mode=Mode.SUBTRACT)
    add(cut_extrude_5_tool2.solids().sort_by_distance((-60.349365, 53.45, 30.8))[0], mode=Mode.SUBTRACT)
    add(cut_extrude_5_tool3.solids().sort_by_distance((-60.349365, 28.45, 30.8))[0], mode=Mode.SUBTRACT)
    add(cut_extrude_5_tool4.solids().sort_by_distance((-82, 15.95, 30.8))[0], mode=Mode.SUBTRACT)
    add(cut_extrude_5_tool5.solids().sort_by_distance((-103.650635, 28.45, 30.8))[0], mode=Mode.SUBTRACT)
    add(cut_extrude_5_tool6.solids().sort_by_distance((-103.650635, 53.45, 30.8))[0], mode=Mode.SUBTRACT)
    add(cut_extrude_5_tool7.solids().sort_by_distance((-82, 40.95, 30.8))[0], mode=Mode.SUBTRACT)

    # 草图16 → 凸台-拉伸9 (add)
    with BuildSketch(Plane(origin=(0, 0, -30.8), x_dir=(-1, 0, 0), z_dir=(0, 0, -1))):
        with Locations(Location((82, 40.95, 0), (0, 0, 180))):
            Circle(SKETCH_16_R)
    extrude(amount=EXTRUDE_9_DEPTH)

    # 圆角1
    fillet_1_edges = [part.edges().sort_by_distance(p)[0] for p in [
        (-32, 8, 0),
        (-32, 73.9, 0),
        (-40, 40.95, -22.8),
        (-40, 40.95, 22.8),
    ]]
    fillet(fillet_1_edges, radius=FILLET_1_R)

    # 圆角2
    fillet_2_edges = [part.edges().sort_by_distance(p)[0] for p in [
        (40, 77.9, 30.8),
        (40, 77.9, -30.8),
        (-112, 10.95, -26.8),
        (-112, 70.95, -26.8),
        (-112, 10.95, 26.8),
        (-112, 70.95, 26.8),
        (40, 4, -30.8),
        (40, 4, 30.8),
    ]]
    fillet(fillet_2_edges, radius=FILLET_2_R)

    # 圆角3
    fillet_3_edges = [part.edges().sort_by_distance(p)[0] for p in [
        (-40, 81.9, 0),
        (-40, 0, 0),
    ]]
    fillet(fillet_3_edges, radius=FILLET_3_R)

    # 草图17 → 切除-拉伸6 (cut)
    with BuildSketch(Plane(origin=(0, 0, -43.6), x_dir=(-1, 0, 0), z_dir=(0, 0, -1)).offset(CUT_EXTRUDE_START)):
        with Locations(Location((82, 40.95, 0), (0, 0, 180))):
            Circle(SKETCH_17_R)
        with Locations((82, 40.95)):
            Circle(SKETCH_17_R_2, mode=Mode.SUBTRACT)
    extrude(amount=CUT_EXTRUDE_6_DEPTH, mode=Mode.SUBTRACT)

    # 草图18 → 切除-拉伸7 (cut)
    with BuildSketch(Plane(origin=(0, 81.9, 0), x_dir=(1, 0, 0), z_dir=(0, 1, 0))):
        with Locations(Location((-30, 24.5, 0), (0, 0, 270))):
            Circle(SKETCH_18_R)
        with Locations(Location((-30, -24.5, 0), (0, 0, 270))):
            Circle(SKETCH_18_R)
    extrude(amount=-CUT_EXTRUDE_7_DEPTH, mode=Mode.SUBTRACT)

    # 草图19 → 切除-拉伸8 (cut)
    with BuildSketch(Plane(origin=(0, 0, -30.8), x_dir=(-1, 0, 0), z_dir=(0, 0, -1))):
        with Locations((68.564971157, 27.514971157)):
            Circle(SKETCH_19_R)
        with Locations((68.564971157, 54.385028843)):
            Circle(SKETCH_19_R)
        with Locations((95.435028843, 54.385028843)):
            Circle(SKETCH_19_R)
        with Locations((95.435028843, 27.514971157)):
            Circle(SKETCH_19_R)
    extrude(amount=-CUT_EXTRUDE_8_DEPTH, mode=Mode.SUBTRACT)

    # 草图20 → 切除-拉伸9 (cut)
    with BuildSketch(Plane.XY.offset(30.8)):
        with Locations((-82, 65.95)):
            Circle(SKETCH_20_R)
        with Locations((-60.349364905, 53.45)):
            Circle(SKETCH_20_R)
        with Locations((-60.349364905, 28.45)):
            Circle(SKETCH_20_R)
        with Locations((-82, 15.95)):
            Circle(SKETCH_20_R)
        with Locations((-103.650635095, 28.45)):
            Circle(SKETCH_20_R)
        with Locations((-103.650635095, 53.45)):
            Circle(SKETCH_20_R)
    extrude(amount=-CUT_EXTRUDE_9_DEPTH, mode=Mode.SUBTRACT)

    # 草图21 → 切除-拉伸10 (cut)
    with BuildSketch(Plane(origin=(0, 0, 0), x_dir=(-1, 0, 0), z_dir=(0, -1, 0))):
        with Locations(Location((-10, -13.5, 0), (0, 0, 90))):
            Circle(SKETCH_21_R)
        with Locations(Location((-21.691342951, -6.75, 0), (0, 0, 90))):
            Circle(SKETCH_21_R)
        with Locations(Location((-21.691342951, 6.75, 0), (0, 0, 90))):
            Circle(SKETCH_21_R)
        with Locations(Location((-10, 13.5, 0), (0, 0, 90))):
            Circle(SKETCH_21_R)
        with Locations(Location((1.691342951, 6.75, 0), (0, 0, 90))):
            Circle(SKETCH_21_R)
        with Locations(Location((1.691342951, -6.75, 0), (0, 0, 90))):
            Circle(SKETCH_21_R)
    extrude(amount=-CUT_EXTRUDE_10_DEPTH, mode=Mode.SUBTRACT)

    # 草图22 → 凸台-拉伸10 (add)
    with BuildSketch(Plane(origin=(0, 0, -30.8), x_dir=(-1, 0, 0), z_dir=(0, 0, -1))):
        with Locations(Location((82, 40.95, 0), (0, 0, 180))):
            Circle(SKETCH_22_R)
    extrude(amount=EXTRUDE_10_DEPTH)


with BuildPart() as body_2:
    # Split Bodies 1: the piece on the far side of the plane
    add(part.part)
    split(bisect_by=Plane.ZX.offset(40.95), keep=Keep.BOTTOM)


with BuildPart() as part_1:
    add(part.part)

    # Split Bodies 1
    split(bisect_by=Plane.ZX.offset(40.95), keep=Keep.TOP)


solid = Compound([body_2.part, part_1.part])
